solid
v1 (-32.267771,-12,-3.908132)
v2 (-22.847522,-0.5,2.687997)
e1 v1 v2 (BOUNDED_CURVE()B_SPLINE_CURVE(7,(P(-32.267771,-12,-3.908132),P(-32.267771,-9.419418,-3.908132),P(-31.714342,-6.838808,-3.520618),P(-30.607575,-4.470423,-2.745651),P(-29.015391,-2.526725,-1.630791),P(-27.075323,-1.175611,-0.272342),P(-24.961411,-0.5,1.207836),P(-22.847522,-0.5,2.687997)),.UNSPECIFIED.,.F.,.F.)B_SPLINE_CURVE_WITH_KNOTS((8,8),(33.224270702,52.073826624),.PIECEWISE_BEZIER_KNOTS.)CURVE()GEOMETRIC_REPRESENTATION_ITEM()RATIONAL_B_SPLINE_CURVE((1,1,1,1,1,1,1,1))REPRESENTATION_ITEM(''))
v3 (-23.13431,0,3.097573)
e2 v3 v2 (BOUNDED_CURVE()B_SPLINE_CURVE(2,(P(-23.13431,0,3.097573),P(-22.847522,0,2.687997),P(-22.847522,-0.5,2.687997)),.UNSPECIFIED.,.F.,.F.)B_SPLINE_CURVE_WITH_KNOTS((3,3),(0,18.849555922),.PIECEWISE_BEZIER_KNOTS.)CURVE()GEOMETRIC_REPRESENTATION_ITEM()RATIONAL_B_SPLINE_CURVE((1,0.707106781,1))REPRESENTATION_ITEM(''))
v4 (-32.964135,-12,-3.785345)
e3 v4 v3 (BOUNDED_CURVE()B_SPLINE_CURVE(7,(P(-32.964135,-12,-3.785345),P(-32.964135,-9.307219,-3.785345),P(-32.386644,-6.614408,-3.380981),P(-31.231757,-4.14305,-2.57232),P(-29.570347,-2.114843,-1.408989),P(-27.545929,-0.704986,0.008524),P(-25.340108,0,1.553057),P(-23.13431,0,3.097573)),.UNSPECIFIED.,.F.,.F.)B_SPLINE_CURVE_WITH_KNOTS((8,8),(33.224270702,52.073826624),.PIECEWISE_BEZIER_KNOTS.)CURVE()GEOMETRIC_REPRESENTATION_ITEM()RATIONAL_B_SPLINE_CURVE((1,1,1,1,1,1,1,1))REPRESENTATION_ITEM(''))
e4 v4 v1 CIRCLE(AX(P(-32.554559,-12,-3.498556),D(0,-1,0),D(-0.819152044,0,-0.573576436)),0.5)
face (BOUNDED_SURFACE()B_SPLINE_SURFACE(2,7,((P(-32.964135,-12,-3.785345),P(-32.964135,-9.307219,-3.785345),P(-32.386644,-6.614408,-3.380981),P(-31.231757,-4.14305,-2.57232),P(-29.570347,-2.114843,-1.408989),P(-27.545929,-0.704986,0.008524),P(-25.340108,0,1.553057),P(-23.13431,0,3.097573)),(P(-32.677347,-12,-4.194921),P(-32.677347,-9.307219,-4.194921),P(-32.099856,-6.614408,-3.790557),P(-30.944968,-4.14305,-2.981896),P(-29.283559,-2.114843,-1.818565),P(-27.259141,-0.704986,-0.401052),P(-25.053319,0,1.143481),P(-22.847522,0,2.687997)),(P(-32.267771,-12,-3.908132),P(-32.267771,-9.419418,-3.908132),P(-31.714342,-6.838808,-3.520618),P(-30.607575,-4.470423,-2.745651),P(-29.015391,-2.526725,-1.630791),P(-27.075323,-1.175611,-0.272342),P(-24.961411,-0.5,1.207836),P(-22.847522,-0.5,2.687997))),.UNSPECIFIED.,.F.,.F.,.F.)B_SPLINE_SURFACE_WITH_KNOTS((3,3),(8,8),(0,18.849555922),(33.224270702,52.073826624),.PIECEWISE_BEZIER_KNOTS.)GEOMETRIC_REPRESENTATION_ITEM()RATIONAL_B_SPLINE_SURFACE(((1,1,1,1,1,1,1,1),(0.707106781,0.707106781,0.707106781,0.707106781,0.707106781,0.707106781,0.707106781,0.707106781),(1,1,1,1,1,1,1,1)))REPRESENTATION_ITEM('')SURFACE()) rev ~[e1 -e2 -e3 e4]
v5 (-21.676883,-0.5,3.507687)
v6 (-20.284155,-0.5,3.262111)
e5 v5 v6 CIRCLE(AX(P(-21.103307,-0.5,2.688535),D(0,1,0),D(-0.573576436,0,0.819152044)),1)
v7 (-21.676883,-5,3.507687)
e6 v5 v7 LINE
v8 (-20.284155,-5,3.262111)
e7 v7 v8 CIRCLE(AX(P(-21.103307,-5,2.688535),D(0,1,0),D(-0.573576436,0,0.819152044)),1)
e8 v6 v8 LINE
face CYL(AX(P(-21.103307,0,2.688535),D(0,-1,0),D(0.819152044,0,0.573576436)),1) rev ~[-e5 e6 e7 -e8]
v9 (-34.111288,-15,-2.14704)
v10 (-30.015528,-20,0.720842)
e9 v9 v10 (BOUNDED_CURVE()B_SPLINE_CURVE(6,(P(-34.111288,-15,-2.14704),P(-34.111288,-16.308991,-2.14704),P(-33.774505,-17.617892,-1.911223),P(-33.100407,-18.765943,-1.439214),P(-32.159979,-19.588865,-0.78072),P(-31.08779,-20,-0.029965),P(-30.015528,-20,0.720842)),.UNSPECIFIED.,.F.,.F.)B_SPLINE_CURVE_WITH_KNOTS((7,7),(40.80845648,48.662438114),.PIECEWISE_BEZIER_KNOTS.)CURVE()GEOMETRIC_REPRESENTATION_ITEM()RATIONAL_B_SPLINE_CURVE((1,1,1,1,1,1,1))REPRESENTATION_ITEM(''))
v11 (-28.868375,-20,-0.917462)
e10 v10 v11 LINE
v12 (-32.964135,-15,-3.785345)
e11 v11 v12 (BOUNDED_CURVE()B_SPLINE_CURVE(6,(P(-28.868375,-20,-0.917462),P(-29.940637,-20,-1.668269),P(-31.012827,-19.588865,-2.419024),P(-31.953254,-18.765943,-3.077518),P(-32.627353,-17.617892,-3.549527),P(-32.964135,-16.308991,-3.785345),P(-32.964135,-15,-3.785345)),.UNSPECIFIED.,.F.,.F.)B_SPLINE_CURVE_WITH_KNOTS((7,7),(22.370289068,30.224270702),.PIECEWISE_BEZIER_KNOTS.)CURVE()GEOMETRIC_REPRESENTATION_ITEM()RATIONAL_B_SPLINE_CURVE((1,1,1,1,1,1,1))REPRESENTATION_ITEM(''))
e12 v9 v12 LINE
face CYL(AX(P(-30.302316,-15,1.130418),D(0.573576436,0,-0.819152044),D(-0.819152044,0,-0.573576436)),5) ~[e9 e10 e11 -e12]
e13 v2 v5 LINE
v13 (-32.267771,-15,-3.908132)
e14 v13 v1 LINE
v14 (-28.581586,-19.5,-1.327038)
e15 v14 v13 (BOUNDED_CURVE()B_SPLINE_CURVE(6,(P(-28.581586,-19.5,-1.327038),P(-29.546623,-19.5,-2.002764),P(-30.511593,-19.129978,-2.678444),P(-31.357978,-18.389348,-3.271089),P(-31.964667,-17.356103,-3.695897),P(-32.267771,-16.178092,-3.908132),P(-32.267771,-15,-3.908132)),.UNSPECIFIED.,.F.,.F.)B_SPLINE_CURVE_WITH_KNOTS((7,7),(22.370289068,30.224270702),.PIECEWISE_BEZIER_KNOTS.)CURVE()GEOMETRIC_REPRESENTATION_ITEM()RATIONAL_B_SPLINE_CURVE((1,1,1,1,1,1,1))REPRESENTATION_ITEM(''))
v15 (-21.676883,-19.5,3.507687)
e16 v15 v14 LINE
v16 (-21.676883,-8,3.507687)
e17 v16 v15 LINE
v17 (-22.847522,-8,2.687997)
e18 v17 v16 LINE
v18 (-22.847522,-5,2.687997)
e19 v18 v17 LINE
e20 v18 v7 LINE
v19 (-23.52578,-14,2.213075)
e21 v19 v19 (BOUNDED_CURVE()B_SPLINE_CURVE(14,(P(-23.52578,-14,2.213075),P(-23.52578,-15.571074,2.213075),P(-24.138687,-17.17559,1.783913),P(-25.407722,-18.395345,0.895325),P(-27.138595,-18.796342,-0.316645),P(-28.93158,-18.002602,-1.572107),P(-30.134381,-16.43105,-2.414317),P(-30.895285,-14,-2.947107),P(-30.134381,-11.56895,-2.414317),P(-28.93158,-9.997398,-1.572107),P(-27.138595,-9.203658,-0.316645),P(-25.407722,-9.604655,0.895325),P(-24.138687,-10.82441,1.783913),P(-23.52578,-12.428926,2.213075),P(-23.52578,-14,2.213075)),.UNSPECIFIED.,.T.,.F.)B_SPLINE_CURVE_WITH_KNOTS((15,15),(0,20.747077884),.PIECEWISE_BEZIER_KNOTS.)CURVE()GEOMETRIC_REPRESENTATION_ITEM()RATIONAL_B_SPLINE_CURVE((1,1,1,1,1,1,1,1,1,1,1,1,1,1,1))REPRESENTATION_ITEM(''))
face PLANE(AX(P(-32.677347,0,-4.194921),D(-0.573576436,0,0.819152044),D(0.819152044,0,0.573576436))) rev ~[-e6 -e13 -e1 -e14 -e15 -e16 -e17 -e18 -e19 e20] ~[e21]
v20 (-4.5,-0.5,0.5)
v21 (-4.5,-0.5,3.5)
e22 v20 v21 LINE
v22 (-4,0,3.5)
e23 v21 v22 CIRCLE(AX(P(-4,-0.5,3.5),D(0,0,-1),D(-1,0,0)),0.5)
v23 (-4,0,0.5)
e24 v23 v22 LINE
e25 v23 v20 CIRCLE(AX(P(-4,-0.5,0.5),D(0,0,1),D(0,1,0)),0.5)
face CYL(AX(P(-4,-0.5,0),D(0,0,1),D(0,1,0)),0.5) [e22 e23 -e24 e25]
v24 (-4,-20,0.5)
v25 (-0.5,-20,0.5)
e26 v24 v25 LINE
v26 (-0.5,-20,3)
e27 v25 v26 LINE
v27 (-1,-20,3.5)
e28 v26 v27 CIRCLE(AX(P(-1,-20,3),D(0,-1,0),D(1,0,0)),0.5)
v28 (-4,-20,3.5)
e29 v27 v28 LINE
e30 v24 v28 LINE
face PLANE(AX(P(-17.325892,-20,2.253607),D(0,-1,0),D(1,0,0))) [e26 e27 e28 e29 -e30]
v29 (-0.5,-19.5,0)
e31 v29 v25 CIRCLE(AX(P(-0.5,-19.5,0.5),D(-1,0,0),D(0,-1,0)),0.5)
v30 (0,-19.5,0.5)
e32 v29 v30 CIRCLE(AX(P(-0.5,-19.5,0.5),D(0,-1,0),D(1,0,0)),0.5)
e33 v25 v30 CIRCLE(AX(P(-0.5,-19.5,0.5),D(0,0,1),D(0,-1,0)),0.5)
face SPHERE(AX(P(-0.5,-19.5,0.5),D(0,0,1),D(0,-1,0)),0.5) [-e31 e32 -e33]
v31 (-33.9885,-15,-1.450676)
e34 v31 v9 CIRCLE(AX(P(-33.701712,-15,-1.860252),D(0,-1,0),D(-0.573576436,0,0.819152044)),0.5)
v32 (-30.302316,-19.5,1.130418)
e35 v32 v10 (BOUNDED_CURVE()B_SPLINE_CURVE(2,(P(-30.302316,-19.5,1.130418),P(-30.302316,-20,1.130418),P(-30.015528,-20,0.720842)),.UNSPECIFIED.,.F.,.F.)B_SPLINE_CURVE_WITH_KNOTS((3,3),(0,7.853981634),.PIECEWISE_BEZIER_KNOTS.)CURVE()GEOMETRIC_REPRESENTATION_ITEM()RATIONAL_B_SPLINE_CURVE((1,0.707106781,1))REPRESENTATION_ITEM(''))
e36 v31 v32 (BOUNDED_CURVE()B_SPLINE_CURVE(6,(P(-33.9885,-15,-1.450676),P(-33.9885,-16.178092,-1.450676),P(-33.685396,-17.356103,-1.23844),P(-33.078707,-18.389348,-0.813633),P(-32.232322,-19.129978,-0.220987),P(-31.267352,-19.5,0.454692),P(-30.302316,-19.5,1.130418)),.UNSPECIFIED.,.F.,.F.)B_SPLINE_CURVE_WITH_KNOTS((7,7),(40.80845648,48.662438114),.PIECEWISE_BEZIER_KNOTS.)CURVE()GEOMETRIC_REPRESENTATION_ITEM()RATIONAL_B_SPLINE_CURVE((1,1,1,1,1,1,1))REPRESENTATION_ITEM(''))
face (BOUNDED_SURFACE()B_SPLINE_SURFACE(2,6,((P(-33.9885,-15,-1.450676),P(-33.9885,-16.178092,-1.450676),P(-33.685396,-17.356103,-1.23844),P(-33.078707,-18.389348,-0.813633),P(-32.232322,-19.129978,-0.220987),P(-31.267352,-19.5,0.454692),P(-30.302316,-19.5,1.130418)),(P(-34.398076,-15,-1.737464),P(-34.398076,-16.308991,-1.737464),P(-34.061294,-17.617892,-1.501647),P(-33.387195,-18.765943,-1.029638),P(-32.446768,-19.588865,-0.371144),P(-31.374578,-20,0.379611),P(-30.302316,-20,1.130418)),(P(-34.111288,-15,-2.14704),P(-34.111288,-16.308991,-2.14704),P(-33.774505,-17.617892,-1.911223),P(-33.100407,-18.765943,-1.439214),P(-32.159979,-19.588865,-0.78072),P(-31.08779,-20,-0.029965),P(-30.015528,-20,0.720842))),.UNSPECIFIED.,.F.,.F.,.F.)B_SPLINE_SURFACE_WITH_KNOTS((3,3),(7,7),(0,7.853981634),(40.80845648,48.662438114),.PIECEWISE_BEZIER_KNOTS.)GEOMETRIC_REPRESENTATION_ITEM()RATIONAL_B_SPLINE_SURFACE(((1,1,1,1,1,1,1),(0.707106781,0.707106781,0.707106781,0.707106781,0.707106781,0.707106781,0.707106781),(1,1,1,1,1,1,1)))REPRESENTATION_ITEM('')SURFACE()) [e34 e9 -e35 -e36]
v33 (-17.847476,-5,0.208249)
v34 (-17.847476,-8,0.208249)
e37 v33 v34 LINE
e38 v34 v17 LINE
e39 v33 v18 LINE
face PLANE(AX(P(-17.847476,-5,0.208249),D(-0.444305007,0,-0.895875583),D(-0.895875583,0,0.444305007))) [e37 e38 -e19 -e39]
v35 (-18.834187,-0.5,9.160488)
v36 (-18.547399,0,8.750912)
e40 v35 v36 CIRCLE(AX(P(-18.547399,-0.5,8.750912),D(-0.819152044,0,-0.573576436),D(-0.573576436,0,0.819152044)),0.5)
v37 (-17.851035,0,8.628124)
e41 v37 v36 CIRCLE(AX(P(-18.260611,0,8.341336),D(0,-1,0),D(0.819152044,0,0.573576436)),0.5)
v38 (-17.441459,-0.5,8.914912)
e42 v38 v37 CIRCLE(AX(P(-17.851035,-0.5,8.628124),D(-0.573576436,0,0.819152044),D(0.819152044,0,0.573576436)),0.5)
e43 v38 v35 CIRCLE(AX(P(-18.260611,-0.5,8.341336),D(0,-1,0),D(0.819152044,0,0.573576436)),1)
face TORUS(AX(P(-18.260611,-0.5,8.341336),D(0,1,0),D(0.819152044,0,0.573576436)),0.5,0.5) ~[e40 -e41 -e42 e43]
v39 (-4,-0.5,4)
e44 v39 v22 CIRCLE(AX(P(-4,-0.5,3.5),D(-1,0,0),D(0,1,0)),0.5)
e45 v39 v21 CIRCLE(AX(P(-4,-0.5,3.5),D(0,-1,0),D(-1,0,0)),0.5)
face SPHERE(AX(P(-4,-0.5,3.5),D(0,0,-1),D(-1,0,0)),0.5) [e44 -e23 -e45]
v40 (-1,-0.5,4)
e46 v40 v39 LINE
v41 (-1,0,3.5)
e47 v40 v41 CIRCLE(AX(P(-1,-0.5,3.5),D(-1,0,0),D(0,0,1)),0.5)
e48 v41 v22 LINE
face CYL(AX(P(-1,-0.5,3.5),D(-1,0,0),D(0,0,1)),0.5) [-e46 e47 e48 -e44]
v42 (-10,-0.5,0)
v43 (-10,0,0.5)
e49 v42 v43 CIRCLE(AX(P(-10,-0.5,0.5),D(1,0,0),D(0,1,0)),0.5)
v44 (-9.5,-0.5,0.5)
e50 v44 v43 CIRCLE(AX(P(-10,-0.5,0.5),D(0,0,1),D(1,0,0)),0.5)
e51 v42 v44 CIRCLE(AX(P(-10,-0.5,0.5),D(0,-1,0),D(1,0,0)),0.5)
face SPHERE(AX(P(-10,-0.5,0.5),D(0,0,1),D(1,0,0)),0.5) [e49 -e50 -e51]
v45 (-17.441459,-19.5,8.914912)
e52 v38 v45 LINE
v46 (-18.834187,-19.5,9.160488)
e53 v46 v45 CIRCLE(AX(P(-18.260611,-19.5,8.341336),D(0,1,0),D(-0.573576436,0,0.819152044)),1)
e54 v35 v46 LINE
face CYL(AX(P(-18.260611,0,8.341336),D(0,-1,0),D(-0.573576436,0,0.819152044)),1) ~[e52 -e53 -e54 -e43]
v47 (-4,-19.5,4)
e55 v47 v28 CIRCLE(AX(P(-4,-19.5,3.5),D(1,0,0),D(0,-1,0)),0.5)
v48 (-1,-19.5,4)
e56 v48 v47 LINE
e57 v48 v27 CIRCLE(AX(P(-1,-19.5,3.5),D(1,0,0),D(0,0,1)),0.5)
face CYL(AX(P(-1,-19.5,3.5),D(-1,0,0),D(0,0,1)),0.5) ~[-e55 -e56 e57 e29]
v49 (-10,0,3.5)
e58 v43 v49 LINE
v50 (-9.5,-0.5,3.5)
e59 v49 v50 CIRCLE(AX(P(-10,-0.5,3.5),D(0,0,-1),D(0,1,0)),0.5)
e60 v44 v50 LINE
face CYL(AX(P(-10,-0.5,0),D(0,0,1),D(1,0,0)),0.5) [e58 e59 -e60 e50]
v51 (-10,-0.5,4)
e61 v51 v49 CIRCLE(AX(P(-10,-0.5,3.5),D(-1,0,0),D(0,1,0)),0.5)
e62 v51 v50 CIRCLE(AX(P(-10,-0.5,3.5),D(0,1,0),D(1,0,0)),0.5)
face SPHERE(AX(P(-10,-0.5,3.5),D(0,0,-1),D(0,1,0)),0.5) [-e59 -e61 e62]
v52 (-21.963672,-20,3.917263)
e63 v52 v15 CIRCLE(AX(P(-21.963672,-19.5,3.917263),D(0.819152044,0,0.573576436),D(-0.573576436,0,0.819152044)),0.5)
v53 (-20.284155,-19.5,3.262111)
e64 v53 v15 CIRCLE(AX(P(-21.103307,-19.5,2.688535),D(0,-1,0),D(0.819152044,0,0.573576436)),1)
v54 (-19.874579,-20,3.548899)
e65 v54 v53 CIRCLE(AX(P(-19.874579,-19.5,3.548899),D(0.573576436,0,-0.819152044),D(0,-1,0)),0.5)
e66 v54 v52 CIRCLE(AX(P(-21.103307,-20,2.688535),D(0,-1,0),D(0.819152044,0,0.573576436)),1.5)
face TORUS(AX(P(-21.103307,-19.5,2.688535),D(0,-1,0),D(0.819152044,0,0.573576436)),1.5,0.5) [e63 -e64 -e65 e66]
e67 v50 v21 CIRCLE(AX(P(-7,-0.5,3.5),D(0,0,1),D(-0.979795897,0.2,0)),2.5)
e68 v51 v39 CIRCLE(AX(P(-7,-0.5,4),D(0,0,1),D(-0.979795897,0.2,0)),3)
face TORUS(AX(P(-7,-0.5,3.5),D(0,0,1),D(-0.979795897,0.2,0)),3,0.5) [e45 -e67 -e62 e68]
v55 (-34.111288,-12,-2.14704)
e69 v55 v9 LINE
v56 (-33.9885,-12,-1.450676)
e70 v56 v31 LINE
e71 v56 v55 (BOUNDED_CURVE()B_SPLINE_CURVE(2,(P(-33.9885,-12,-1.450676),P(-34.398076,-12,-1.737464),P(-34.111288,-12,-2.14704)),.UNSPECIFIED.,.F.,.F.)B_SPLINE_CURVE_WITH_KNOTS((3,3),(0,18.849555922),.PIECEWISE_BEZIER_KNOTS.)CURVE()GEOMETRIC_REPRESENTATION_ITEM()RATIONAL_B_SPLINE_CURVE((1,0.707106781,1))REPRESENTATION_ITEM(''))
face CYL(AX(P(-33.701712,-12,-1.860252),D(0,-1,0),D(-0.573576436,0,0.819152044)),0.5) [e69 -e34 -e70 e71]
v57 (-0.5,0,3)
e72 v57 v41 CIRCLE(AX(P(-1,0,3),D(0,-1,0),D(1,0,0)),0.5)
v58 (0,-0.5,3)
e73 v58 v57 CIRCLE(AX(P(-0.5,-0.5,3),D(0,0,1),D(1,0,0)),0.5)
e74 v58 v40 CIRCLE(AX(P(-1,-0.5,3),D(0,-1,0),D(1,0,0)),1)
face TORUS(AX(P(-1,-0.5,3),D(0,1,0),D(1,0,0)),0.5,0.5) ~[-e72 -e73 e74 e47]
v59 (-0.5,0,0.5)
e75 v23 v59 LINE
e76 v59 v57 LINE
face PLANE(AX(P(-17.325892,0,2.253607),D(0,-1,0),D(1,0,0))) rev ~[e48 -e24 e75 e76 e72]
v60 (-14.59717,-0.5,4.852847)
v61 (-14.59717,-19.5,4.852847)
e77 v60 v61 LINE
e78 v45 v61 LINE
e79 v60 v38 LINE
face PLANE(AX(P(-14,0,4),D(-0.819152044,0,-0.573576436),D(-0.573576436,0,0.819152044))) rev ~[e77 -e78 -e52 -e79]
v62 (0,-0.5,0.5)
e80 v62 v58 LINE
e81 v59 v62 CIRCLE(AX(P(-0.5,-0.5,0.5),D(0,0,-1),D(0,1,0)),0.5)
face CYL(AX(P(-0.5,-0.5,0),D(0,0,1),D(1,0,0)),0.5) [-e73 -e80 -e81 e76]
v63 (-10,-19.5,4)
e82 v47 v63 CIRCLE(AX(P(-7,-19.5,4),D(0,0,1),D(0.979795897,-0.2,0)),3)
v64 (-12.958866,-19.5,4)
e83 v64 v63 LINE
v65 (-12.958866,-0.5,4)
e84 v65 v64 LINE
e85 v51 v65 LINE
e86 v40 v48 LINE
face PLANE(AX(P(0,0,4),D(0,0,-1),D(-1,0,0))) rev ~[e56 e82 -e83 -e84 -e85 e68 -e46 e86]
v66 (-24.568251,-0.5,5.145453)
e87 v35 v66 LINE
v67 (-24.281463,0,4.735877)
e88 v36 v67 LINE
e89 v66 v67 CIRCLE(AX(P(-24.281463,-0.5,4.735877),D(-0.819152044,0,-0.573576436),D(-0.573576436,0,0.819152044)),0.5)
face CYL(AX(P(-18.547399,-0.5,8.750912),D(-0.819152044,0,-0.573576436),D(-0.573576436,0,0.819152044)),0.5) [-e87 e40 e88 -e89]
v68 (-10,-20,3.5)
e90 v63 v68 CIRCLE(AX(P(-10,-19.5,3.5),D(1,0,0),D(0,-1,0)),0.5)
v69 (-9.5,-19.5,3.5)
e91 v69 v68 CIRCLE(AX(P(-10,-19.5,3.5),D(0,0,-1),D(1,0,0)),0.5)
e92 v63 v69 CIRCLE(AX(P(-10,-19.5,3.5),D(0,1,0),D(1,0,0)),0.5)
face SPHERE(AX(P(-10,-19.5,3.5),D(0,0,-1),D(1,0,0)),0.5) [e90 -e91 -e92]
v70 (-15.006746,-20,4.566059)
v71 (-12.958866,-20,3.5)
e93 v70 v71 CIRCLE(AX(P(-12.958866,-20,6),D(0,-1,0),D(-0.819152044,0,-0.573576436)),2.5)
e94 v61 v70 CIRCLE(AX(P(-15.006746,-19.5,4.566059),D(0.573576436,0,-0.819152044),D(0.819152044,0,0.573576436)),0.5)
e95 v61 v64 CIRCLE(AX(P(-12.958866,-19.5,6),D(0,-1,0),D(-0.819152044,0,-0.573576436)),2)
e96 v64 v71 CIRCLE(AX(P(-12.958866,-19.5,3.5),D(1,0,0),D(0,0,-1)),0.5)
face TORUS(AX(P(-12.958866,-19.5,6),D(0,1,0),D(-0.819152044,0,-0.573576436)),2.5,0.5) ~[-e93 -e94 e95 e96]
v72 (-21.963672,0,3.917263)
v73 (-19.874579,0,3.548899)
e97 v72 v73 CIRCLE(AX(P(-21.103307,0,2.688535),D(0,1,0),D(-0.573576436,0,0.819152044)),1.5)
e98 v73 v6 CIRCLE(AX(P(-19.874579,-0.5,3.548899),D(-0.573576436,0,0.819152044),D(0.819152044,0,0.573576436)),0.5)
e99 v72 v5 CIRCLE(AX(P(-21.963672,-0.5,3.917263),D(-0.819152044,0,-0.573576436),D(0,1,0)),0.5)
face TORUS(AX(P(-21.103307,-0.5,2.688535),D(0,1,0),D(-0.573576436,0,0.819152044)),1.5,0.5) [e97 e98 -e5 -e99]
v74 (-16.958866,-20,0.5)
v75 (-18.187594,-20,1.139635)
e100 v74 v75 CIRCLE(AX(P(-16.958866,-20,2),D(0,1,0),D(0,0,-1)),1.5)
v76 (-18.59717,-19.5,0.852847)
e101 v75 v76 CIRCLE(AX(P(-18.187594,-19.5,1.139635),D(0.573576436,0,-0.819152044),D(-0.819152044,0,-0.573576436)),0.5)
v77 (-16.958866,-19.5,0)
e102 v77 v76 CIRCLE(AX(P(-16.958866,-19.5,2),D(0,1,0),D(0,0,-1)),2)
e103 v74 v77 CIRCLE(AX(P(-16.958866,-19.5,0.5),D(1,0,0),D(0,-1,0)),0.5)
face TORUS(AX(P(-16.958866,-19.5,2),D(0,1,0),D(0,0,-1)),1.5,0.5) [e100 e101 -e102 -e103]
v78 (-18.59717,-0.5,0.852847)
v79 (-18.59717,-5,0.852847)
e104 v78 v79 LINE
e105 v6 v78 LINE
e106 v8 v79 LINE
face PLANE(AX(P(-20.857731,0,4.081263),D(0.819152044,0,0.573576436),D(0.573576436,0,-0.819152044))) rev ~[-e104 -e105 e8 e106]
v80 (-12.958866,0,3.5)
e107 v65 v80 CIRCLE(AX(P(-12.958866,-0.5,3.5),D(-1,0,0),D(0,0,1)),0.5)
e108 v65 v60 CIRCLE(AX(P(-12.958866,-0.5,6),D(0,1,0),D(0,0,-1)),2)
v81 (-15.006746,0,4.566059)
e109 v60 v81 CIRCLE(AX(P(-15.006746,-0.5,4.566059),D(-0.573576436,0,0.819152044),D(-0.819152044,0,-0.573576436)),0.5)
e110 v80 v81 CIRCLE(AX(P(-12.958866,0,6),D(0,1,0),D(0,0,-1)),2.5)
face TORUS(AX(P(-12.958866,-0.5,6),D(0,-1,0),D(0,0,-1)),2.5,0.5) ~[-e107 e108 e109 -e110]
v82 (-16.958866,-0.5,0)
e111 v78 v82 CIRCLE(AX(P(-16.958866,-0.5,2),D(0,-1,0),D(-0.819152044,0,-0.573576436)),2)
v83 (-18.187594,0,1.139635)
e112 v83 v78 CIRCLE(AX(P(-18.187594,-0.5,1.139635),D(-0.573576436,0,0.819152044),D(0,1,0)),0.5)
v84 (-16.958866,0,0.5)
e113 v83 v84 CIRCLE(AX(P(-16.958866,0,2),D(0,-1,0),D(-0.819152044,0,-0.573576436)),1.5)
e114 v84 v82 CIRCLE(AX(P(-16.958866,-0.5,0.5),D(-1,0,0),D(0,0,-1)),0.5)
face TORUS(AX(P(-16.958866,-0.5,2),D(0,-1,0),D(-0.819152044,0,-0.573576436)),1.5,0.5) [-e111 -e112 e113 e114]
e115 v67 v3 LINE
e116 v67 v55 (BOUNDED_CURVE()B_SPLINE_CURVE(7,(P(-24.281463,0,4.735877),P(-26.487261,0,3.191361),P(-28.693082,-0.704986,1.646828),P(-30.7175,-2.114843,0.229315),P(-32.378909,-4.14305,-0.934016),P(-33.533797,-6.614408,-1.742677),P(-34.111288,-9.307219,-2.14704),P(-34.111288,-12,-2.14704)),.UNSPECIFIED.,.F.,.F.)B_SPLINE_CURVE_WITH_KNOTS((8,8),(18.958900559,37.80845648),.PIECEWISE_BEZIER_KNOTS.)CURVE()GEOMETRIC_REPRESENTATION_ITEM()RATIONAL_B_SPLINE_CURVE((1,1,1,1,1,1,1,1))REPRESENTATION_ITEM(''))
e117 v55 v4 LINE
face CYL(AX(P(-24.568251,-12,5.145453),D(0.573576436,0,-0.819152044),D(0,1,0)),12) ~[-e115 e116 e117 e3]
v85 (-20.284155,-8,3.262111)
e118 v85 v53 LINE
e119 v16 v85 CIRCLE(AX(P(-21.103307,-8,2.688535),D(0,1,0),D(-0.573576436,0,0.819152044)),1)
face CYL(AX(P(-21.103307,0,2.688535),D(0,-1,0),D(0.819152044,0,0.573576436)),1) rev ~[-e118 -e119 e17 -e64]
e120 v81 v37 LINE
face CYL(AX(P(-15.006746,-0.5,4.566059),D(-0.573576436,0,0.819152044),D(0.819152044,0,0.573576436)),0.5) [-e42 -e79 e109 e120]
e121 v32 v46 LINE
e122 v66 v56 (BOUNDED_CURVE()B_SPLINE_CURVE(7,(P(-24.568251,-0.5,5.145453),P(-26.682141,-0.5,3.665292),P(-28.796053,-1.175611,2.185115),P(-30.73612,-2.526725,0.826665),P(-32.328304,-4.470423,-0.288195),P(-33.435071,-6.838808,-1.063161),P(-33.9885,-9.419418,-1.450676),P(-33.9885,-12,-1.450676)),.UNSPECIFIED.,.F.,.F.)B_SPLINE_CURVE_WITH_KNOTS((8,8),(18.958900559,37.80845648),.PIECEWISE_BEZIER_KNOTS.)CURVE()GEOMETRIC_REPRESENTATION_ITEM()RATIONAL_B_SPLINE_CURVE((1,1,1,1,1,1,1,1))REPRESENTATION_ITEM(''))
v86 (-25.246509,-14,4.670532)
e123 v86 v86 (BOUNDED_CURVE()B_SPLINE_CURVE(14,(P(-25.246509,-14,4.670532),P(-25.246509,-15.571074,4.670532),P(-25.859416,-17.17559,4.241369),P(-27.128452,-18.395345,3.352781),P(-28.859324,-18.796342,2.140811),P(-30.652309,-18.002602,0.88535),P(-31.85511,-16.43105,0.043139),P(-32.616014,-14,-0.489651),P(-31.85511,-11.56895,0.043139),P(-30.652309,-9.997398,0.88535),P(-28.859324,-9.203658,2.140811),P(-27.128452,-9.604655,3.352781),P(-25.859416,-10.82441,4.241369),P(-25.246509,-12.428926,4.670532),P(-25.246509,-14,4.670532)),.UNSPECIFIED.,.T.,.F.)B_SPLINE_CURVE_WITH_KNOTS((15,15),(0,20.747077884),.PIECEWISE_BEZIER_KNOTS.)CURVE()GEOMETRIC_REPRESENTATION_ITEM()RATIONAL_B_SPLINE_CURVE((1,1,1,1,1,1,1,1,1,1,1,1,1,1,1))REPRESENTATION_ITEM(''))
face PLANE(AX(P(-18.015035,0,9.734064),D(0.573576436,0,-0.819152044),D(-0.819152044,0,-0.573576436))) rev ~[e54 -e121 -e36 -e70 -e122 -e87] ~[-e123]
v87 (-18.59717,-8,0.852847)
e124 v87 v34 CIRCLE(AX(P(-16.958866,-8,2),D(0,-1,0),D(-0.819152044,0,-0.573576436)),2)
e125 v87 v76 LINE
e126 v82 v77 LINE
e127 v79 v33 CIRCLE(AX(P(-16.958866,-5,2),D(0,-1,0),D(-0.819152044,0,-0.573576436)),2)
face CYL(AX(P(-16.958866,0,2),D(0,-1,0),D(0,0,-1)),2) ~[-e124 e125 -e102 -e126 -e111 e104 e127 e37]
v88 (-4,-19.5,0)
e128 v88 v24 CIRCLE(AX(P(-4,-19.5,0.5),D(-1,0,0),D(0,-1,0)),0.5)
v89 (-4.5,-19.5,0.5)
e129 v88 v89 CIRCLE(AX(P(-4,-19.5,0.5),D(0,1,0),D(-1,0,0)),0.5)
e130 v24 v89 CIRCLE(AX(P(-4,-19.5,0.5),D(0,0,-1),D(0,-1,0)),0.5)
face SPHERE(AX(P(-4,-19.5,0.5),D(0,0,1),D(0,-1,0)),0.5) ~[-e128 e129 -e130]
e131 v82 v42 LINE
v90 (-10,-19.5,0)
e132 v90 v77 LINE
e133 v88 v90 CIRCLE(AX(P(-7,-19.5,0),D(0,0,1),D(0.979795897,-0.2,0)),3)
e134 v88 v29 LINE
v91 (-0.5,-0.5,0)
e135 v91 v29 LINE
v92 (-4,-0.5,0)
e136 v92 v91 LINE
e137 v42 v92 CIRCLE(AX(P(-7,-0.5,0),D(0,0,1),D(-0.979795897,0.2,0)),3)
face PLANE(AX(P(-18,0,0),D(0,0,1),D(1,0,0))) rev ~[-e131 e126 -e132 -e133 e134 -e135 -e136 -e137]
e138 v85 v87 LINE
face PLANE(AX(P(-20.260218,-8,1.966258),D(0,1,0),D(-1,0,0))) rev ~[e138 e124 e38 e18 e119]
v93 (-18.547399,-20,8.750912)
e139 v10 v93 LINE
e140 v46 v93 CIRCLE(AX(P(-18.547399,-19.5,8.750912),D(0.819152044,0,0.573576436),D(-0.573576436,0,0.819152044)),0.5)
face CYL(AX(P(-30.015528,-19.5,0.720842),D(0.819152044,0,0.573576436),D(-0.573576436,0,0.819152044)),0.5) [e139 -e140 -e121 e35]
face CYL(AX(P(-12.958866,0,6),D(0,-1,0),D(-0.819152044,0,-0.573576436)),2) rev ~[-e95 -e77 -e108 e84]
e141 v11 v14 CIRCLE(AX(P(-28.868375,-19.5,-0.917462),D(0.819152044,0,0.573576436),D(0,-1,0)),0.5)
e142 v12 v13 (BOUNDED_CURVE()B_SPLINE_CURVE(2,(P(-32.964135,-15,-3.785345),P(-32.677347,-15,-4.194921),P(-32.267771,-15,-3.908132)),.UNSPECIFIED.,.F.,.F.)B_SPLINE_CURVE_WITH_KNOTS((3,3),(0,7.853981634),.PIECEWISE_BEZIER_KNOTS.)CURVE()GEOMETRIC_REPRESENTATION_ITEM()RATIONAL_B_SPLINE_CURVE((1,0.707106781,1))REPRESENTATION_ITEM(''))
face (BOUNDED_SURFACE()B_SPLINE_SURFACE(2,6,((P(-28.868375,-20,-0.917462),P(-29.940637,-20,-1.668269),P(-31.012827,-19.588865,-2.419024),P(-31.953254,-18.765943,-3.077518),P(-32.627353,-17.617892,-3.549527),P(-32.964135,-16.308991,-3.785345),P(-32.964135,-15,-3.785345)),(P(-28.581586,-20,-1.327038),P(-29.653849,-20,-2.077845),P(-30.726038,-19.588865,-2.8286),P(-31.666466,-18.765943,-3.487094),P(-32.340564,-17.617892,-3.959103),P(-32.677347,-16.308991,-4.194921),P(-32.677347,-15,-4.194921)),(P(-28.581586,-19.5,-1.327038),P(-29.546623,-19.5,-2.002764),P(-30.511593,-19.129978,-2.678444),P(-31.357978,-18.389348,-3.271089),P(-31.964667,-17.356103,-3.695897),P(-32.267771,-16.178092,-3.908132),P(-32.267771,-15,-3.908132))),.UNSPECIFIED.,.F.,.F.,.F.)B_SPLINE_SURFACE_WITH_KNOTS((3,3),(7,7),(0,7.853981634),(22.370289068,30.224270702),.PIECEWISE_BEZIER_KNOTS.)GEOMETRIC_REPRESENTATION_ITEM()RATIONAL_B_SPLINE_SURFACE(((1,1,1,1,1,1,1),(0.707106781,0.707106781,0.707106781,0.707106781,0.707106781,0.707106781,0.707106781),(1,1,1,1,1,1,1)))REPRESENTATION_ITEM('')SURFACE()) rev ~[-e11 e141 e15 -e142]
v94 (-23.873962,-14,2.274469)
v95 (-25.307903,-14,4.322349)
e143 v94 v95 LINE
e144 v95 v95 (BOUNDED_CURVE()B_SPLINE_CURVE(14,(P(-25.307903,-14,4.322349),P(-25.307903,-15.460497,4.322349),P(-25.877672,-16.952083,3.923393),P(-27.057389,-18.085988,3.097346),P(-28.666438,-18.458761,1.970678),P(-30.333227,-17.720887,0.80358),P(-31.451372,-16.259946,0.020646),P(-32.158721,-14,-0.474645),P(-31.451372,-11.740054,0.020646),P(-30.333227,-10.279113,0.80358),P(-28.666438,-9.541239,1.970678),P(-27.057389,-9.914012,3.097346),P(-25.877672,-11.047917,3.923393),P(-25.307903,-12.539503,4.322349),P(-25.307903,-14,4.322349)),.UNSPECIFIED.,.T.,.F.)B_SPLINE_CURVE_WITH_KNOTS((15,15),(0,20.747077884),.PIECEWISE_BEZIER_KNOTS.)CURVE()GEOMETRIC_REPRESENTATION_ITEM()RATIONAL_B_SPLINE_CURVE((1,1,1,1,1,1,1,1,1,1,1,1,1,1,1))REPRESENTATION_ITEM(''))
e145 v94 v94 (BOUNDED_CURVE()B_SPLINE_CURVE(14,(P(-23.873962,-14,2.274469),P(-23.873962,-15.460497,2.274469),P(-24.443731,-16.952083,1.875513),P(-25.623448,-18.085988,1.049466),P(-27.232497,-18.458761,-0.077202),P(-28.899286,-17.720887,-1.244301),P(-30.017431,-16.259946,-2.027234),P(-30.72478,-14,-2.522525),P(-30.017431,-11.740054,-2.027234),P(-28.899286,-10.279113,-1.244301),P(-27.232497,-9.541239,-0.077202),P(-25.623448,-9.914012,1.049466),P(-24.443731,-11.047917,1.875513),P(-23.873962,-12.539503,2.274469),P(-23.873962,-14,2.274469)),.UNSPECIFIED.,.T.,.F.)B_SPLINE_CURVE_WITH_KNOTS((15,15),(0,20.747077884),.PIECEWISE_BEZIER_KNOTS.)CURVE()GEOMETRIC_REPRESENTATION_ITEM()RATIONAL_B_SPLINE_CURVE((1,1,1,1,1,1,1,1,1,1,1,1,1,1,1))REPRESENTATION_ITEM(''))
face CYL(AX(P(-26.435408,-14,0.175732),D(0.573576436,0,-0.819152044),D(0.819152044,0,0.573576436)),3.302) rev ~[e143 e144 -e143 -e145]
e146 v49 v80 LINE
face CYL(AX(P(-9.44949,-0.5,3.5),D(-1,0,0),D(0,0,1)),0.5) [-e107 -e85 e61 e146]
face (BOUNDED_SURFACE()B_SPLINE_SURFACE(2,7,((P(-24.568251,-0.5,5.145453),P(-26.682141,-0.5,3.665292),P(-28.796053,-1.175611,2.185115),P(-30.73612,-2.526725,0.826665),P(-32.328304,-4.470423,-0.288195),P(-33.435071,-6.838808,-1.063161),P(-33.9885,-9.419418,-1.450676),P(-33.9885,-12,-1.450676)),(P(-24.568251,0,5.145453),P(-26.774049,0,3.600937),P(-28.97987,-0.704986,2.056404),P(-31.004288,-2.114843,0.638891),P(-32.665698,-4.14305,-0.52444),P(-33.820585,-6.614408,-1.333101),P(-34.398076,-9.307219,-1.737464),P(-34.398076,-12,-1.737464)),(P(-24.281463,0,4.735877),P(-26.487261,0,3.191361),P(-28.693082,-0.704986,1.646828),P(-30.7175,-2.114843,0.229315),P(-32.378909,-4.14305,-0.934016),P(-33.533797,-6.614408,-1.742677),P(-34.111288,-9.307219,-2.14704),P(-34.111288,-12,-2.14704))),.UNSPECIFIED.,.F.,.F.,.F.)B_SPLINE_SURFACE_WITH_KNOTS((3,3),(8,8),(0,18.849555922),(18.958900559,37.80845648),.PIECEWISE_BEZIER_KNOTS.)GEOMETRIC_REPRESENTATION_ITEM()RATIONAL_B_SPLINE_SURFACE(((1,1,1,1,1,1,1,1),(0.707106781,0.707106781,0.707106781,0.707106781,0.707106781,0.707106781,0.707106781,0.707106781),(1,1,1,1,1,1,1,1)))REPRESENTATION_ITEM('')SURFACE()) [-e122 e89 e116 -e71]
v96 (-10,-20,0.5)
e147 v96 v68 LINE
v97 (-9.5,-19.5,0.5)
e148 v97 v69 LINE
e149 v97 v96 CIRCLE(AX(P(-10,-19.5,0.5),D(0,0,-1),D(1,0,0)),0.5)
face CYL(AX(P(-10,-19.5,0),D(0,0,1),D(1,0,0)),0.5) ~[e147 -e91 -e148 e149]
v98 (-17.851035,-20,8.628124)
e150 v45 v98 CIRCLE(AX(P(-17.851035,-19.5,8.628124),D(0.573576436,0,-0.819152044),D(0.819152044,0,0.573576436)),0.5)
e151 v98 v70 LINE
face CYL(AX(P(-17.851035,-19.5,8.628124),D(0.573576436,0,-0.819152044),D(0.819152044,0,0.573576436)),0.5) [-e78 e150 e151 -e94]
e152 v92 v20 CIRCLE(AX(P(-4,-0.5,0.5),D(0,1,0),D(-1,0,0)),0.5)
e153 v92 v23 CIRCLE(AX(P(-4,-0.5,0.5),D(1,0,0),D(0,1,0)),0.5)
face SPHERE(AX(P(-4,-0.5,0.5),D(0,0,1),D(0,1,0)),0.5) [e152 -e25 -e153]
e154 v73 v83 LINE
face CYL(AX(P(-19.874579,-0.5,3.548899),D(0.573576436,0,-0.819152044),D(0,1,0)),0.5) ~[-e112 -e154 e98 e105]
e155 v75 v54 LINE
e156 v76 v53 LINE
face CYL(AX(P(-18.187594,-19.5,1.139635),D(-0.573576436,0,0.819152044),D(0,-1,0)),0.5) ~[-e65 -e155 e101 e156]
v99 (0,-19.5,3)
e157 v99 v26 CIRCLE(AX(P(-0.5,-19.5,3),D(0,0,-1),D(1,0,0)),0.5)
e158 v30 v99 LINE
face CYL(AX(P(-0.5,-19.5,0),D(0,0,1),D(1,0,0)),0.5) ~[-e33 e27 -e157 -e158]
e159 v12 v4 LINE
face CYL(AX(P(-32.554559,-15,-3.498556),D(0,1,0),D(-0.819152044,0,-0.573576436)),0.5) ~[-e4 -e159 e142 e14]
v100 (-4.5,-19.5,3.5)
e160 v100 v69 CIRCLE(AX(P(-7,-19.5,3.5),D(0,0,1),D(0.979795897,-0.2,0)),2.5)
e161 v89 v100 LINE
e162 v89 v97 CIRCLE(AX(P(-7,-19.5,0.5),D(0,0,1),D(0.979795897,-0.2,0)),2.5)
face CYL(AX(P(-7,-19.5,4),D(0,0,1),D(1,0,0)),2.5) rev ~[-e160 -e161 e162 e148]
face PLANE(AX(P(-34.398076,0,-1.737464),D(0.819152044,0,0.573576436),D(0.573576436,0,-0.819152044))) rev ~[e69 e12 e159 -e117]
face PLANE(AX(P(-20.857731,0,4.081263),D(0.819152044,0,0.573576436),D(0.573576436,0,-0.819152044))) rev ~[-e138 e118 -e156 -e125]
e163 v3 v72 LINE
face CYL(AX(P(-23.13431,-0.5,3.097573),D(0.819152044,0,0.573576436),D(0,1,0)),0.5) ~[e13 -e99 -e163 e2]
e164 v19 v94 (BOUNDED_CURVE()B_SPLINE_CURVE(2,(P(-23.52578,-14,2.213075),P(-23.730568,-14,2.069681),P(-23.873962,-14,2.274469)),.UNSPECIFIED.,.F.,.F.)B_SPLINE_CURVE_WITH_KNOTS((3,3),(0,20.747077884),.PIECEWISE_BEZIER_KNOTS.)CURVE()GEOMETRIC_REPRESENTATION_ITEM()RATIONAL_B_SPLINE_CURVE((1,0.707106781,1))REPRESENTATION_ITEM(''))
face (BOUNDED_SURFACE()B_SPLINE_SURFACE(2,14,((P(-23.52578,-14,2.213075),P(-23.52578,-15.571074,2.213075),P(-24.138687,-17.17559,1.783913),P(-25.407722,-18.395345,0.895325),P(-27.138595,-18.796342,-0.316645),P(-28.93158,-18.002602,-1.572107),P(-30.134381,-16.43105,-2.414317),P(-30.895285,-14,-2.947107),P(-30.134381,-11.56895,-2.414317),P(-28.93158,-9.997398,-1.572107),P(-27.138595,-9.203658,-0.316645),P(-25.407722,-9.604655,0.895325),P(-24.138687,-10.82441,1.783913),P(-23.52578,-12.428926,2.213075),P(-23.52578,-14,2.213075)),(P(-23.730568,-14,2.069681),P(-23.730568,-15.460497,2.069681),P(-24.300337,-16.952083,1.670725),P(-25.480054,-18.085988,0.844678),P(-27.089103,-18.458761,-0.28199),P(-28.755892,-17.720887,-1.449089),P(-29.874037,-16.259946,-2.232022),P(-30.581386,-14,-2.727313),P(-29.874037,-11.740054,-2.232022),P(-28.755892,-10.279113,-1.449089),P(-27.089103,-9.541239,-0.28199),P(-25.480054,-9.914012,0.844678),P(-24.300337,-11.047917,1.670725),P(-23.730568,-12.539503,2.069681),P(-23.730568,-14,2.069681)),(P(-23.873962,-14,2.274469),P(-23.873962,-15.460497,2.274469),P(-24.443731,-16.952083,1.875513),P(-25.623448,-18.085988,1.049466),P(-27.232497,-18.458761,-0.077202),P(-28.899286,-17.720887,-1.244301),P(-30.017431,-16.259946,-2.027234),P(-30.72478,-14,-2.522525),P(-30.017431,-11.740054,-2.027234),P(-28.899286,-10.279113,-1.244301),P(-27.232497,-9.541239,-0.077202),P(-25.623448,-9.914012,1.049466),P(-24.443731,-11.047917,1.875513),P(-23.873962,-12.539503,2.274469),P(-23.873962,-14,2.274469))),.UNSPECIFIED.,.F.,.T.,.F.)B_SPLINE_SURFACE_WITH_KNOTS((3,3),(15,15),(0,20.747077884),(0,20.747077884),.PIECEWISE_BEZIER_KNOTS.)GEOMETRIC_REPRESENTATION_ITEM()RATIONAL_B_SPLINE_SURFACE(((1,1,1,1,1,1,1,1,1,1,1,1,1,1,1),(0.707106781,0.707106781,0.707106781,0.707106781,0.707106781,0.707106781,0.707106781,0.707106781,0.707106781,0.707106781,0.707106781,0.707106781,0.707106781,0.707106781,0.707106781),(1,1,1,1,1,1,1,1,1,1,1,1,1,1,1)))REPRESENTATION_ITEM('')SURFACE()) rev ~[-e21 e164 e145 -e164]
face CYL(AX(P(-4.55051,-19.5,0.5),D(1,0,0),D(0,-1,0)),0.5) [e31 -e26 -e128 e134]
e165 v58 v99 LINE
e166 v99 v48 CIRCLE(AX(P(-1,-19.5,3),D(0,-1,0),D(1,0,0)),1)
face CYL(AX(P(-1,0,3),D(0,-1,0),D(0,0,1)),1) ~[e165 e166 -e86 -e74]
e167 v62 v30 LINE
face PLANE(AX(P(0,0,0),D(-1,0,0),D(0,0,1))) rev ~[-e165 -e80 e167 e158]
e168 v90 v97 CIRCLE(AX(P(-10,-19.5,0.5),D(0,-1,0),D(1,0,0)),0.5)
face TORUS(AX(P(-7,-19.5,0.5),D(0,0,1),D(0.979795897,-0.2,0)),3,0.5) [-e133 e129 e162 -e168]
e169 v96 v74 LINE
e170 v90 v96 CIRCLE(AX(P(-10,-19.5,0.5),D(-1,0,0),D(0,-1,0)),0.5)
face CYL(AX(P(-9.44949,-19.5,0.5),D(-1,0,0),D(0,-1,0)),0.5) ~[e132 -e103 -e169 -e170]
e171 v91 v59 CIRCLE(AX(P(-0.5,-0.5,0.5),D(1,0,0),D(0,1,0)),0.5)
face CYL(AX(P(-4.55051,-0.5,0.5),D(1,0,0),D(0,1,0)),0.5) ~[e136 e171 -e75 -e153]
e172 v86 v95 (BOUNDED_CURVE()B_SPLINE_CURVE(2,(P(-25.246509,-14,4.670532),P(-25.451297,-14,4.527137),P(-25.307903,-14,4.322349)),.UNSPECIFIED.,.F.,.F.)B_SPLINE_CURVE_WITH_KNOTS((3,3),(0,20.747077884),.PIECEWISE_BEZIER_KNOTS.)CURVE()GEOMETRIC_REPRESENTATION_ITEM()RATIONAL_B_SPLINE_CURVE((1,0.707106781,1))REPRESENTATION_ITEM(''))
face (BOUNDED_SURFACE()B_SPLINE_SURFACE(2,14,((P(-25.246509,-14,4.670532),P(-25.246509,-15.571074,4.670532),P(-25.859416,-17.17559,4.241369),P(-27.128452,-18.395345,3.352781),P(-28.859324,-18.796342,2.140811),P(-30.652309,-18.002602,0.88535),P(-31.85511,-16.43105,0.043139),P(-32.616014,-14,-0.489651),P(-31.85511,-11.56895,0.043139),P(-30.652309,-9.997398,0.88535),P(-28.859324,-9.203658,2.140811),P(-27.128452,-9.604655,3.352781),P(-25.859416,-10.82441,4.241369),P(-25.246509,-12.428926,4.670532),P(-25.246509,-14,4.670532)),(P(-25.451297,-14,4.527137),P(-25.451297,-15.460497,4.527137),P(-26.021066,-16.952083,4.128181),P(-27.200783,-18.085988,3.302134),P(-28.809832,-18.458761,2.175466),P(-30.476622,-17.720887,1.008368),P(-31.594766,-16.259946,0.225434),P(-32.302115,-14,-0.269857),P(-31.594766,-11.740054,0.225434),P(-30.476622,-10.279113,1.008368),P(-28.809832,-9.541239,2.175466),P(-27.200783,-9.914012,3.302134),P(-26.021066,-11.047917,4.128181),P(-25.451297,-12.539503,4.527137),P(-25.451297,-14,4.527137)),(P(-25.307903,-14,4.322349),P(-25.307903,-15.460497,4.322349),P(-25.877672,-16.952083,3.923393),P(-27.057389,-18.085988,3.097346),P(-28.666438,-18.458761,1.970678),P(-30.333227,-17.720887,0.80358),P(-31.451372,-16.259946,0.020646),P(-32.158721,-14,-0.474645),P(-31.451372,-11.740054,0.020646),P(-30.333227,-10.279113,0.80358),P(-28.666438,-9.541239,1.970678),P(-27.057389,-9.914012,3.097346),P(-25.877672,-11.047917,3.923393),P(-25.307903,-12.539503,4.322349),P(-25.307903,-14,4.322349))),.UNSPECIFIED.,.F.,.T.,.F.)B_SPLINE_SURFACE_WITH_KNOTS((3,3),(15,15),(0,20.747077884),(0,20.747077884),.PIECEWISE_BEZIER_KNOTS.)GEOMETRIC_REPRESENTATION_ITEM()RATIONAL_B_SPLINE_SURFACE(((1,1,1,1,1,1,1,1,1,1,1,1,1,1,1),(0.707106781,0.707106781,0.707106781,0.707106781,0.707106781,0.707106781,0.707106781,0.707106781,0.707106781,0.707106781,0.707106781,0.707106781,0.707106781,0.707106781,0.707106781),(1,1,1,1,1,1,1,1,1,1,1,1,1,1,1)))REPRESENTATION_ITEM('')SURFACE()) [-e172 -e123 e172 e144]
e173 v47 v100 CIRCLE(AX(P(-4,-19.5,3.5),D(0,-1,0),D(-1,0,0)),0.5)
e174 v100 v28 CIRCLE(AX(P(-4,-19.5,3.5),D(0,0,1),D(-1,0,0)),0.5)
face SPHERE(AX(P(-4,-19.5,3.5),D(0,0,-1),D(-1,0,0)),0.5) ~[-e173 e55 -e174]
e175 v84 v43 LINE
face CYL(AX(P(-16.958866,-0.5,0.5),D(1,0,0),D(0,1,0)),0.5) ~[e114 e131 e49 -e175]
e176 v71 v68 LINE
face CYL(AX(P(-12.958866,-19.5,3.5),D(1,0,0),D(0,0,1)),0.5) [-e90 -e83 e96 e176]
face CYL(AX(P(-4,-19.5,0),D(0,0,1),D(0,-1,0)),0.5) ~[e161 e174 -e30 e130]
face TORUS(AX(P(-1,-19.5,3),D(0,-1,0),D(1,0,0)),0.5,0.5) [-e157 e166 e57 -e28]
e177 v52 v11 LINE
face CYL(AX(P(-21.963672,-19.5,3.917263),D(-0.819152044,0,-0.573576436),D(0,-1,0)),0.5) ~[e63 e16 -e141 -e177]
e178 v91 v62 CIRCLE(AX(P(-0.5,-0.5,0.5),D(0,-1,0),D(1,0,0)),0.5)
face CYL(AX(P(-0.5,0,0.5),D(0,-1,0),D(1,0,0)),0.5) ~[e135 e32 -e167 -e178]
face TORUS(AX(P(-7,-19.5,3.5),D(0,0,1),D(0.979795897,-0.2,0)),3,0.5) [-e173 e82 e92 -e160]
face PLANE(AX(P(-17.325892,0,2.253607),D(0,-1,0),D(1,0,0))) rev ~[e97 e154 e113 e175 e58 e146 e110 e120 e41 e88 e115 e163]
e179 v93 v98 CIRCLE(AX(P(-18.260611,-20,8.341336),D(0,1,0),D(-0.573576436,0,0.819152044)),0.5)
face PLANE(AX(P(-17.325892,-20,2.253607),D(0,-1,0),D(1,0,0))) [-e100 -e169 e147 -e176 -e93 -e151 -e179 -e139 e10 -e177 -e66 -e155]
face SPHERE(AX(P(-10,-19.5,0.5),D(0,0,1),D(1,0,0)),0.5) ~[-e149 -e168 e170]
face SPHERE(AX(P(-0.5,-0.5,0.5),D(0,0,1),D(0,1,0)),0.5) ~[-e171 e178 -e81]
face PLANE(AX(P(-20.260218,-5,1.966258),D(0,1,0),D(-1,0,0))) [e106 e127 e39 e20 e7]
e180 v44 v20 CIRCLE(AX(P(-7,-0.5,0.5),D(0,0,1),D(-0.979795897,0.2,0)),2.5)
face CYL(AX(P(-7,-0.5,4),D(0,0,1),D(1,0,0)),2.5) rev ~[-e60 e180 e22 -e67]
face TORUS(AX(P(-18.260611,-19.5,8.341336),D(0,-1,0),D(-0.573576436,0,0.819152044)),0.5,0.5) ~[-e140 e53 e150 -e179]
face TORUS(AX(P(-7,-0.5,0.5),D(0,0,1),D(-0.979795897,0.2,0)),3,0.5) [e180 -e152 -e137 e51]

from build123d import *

# Parameters (mm, degrees)
F1_DEPTH  = 20
F2_R      = 2.5
F3_DEPTH  = 8.1959205499
F4_R      = 1
F5_R      = 3.302
F6_DEPTH  = 12.3979262079
F7_R      = 12
F8_R      = 5
F9_R      = 1
F10_R     = 2
F11_R     = 2
F12_R     = 1
F13_R     = 0.5
F16_DEPTH = 3
F17_R     = 0.25


with BuildPart() as f1:
    # F0 (on Front) → F1 (new body)
    with BuildSketch(Plane.XZ):
        Polygon((-20.8577312736, 4.0812632222), (-18, 0), (0, 0), (0, 4), (-14, 4), (-18.0150350545, 9.73406431), (-34.3980759402, -1.737464417), (-32.6773466312, -4.1949205499), align=None)
    extrude(amount=F1_DEPTH)

    # F2 (on face) → F3 (cut, through all)
    with BuildSketch(Plane.XY.offset(4)):
        with Locations((-7, -0.5)):
            Circle(F2_R)
        with Locations((-7, -19.5)):
            Circle(F2_R)
    extrude(amount=-F3_DEPTH, mode=Mode.SUBTRACT)

    # F4
    f4_edges = [f1.edges().sort_by_distance(p)[0] for p in [
        (-20.857731, -10, 4.081263),
    ]]
    fillet(f4_edges, radius=F4_R)

    # F5 (on face) → F6 (cut, through all)
    with BuildSketch(Plane(origin=(-8.7795499837, 0, 12.5384968093), x_dir=(0.8191520443, 0, 0.5735764364), z_dir=(0.5735764364, 0, -0.8191520443))):
        with Locations((-21.5538228746, 14)):
            Circle(F5_R)
    extrude(amount=-F6_DEPTH, mode=Mode.SUBTRACT)

    # F7
    f7_edges = [f1.edges().sort_by_distance(p)[0] for p in [
        (-33.537711, 0, -2.966192),
    ]]
    fillet(f7_edges, radius=F7_R)

    # F8
    f8_edges = [f1.edges().sort_by_distance(p)[0] for p in [
        (-33.537711, -20, -2.966192),
    ]]
    fillet(f8_edges, radius=F8_R)

    # F9
    f9_edges = [f1.edges().sort_by_distance(p)[0] for p in [
        (-18.015035, -10, 9.734064),
    ]]
    fillet(f9_edges, radius=F9_R)

    # F10
    f10_edges = [f1.edges().sort_by_distance(p)[0] for p in [
        (-14, -10, 4),
    ]]
    fillet(f10_edges, radius=F10_R)

    # F11
    f11_edges = [f1.edges().sort_by_distance(p)[0] for p in [
        (-18, -10, 0),
    ]]
    fillet(f11_edges, radius=F11_R)

    # F12
    f12_edges = [f1.edges().sort_by_distance(p)[0] for p in [
        (0, -10, 4),
    ]]
    fillet(f12_edges, radius=F12_R)

    # F13
    f13_edges = [f1.edges().sort_by_distance(p)[0] for p in [
        (-13.204178, 0, 0),
        (-17.882363, 0, 0.225978),
        (-9.44949, 0, 2),
        (-19.440662, 0, 2.057479),
        (-11.204178, 0, 4),
        (-20.929659, 0, 3.673342),
        (-13.882363, 0, 4.225978),
        (-22.262203, 0, 3.097842),
        (-16.019314, 0, 6.88388),
        (-23.707887, 0, 3.916725),
        (-18.086962, 0, 9.326144),
        (-21.701219, 0, 7.15297),
        (-2.775255, 0, 4),
        (-0.292893, 0, 3.707107),
        (-4.55051, 0, 2),
        (0, 0, 1.5),
        (-2.275255, 0, 0),
        (-31.518987, -3.514719, 0.278495),
        (-33.537711, -12, -2.966192),
        (-29.798258, -3.514719, -2.178961),
        (-34.398076, -13.5, -1.737464),
        (-33.537711, -15, -2.966192),
        (-32.677347, -13.5, -4.194921),
        (-33.198456, -18.535534, -0.897481),
        (-29.441951, -20, -0.09831),
        (-31.477726, -18.535534, -3.354937),
        (-13.204178, -20, 0),
        (-17.882363, -20, 0.225978),
        (-9.44949, -20, 2),
        (-19.440662, -20, 2.057479),
        (-11.204178, -20, 4),
        (-20.929659, -20, 3.673342),
        (-13.882363, -20, 4.225978),
        (-25.129235, -20, 1.090324),
        (-16.019314, -20, 6.88388),
        (-18.086962, -20, 9.326144),
        (-24.568251, -20, 5.145453),
        (-2.775255, -20, 4),
        (-0.292893, -20, 3.707107),
        (-4.55051, -20, 2),
        (0, -20, 1.5),
        (-2.275255, -20, 0),
        (-7, -17, 4),
        (-7, -17, 0),
        (-7, -3, 0),
        (-7, -3, 4),
        (0, -10, 3),
        (0, -10, 0),
    ]]
    fillet(f13_edges, radius=F13_R)

    # F15 (on offset) → F16 (join)
    with BuildSketch(Plane(origin=(0, -5, 0), x_dir=(-1, 0, 0), z_dir=(0, 1, 0))):
        with BuildLine():
            Line((20.2841548373, 3.2621111779), (18.5971699875, 0.8528471273))
            ThreePointArc((18.5971699875, 0.8528471273), (18.2627832628, 0.4834910128), (17.8474759412, 0.2082488474))
            Line((17.8474759412, 0.2082488474), (22.8475220997, 2.6879966863))
            Line((22.8475220997, 2.6879966863), (21.6768833179, 3.5076867859))
            ThreePointArc((21.6768833179, 3.5076867859), (20.9296587039, 3.6733424946), (20.2841548373, 3.2621111779))
        make_face()
    extrude(amount=-F16_DEPTH)

    # F17
    f17_edges = [f1.edges().sort_by_distance(p)[0] for p in [
        (-29.140248, -14, -1.718217),
        (-24.590933, -14, 3.298409),
        (-30.860977, -14, 0.739239),
    ]]
    fillet(f17_edges, radius=F17_R)


solid = f1.part
